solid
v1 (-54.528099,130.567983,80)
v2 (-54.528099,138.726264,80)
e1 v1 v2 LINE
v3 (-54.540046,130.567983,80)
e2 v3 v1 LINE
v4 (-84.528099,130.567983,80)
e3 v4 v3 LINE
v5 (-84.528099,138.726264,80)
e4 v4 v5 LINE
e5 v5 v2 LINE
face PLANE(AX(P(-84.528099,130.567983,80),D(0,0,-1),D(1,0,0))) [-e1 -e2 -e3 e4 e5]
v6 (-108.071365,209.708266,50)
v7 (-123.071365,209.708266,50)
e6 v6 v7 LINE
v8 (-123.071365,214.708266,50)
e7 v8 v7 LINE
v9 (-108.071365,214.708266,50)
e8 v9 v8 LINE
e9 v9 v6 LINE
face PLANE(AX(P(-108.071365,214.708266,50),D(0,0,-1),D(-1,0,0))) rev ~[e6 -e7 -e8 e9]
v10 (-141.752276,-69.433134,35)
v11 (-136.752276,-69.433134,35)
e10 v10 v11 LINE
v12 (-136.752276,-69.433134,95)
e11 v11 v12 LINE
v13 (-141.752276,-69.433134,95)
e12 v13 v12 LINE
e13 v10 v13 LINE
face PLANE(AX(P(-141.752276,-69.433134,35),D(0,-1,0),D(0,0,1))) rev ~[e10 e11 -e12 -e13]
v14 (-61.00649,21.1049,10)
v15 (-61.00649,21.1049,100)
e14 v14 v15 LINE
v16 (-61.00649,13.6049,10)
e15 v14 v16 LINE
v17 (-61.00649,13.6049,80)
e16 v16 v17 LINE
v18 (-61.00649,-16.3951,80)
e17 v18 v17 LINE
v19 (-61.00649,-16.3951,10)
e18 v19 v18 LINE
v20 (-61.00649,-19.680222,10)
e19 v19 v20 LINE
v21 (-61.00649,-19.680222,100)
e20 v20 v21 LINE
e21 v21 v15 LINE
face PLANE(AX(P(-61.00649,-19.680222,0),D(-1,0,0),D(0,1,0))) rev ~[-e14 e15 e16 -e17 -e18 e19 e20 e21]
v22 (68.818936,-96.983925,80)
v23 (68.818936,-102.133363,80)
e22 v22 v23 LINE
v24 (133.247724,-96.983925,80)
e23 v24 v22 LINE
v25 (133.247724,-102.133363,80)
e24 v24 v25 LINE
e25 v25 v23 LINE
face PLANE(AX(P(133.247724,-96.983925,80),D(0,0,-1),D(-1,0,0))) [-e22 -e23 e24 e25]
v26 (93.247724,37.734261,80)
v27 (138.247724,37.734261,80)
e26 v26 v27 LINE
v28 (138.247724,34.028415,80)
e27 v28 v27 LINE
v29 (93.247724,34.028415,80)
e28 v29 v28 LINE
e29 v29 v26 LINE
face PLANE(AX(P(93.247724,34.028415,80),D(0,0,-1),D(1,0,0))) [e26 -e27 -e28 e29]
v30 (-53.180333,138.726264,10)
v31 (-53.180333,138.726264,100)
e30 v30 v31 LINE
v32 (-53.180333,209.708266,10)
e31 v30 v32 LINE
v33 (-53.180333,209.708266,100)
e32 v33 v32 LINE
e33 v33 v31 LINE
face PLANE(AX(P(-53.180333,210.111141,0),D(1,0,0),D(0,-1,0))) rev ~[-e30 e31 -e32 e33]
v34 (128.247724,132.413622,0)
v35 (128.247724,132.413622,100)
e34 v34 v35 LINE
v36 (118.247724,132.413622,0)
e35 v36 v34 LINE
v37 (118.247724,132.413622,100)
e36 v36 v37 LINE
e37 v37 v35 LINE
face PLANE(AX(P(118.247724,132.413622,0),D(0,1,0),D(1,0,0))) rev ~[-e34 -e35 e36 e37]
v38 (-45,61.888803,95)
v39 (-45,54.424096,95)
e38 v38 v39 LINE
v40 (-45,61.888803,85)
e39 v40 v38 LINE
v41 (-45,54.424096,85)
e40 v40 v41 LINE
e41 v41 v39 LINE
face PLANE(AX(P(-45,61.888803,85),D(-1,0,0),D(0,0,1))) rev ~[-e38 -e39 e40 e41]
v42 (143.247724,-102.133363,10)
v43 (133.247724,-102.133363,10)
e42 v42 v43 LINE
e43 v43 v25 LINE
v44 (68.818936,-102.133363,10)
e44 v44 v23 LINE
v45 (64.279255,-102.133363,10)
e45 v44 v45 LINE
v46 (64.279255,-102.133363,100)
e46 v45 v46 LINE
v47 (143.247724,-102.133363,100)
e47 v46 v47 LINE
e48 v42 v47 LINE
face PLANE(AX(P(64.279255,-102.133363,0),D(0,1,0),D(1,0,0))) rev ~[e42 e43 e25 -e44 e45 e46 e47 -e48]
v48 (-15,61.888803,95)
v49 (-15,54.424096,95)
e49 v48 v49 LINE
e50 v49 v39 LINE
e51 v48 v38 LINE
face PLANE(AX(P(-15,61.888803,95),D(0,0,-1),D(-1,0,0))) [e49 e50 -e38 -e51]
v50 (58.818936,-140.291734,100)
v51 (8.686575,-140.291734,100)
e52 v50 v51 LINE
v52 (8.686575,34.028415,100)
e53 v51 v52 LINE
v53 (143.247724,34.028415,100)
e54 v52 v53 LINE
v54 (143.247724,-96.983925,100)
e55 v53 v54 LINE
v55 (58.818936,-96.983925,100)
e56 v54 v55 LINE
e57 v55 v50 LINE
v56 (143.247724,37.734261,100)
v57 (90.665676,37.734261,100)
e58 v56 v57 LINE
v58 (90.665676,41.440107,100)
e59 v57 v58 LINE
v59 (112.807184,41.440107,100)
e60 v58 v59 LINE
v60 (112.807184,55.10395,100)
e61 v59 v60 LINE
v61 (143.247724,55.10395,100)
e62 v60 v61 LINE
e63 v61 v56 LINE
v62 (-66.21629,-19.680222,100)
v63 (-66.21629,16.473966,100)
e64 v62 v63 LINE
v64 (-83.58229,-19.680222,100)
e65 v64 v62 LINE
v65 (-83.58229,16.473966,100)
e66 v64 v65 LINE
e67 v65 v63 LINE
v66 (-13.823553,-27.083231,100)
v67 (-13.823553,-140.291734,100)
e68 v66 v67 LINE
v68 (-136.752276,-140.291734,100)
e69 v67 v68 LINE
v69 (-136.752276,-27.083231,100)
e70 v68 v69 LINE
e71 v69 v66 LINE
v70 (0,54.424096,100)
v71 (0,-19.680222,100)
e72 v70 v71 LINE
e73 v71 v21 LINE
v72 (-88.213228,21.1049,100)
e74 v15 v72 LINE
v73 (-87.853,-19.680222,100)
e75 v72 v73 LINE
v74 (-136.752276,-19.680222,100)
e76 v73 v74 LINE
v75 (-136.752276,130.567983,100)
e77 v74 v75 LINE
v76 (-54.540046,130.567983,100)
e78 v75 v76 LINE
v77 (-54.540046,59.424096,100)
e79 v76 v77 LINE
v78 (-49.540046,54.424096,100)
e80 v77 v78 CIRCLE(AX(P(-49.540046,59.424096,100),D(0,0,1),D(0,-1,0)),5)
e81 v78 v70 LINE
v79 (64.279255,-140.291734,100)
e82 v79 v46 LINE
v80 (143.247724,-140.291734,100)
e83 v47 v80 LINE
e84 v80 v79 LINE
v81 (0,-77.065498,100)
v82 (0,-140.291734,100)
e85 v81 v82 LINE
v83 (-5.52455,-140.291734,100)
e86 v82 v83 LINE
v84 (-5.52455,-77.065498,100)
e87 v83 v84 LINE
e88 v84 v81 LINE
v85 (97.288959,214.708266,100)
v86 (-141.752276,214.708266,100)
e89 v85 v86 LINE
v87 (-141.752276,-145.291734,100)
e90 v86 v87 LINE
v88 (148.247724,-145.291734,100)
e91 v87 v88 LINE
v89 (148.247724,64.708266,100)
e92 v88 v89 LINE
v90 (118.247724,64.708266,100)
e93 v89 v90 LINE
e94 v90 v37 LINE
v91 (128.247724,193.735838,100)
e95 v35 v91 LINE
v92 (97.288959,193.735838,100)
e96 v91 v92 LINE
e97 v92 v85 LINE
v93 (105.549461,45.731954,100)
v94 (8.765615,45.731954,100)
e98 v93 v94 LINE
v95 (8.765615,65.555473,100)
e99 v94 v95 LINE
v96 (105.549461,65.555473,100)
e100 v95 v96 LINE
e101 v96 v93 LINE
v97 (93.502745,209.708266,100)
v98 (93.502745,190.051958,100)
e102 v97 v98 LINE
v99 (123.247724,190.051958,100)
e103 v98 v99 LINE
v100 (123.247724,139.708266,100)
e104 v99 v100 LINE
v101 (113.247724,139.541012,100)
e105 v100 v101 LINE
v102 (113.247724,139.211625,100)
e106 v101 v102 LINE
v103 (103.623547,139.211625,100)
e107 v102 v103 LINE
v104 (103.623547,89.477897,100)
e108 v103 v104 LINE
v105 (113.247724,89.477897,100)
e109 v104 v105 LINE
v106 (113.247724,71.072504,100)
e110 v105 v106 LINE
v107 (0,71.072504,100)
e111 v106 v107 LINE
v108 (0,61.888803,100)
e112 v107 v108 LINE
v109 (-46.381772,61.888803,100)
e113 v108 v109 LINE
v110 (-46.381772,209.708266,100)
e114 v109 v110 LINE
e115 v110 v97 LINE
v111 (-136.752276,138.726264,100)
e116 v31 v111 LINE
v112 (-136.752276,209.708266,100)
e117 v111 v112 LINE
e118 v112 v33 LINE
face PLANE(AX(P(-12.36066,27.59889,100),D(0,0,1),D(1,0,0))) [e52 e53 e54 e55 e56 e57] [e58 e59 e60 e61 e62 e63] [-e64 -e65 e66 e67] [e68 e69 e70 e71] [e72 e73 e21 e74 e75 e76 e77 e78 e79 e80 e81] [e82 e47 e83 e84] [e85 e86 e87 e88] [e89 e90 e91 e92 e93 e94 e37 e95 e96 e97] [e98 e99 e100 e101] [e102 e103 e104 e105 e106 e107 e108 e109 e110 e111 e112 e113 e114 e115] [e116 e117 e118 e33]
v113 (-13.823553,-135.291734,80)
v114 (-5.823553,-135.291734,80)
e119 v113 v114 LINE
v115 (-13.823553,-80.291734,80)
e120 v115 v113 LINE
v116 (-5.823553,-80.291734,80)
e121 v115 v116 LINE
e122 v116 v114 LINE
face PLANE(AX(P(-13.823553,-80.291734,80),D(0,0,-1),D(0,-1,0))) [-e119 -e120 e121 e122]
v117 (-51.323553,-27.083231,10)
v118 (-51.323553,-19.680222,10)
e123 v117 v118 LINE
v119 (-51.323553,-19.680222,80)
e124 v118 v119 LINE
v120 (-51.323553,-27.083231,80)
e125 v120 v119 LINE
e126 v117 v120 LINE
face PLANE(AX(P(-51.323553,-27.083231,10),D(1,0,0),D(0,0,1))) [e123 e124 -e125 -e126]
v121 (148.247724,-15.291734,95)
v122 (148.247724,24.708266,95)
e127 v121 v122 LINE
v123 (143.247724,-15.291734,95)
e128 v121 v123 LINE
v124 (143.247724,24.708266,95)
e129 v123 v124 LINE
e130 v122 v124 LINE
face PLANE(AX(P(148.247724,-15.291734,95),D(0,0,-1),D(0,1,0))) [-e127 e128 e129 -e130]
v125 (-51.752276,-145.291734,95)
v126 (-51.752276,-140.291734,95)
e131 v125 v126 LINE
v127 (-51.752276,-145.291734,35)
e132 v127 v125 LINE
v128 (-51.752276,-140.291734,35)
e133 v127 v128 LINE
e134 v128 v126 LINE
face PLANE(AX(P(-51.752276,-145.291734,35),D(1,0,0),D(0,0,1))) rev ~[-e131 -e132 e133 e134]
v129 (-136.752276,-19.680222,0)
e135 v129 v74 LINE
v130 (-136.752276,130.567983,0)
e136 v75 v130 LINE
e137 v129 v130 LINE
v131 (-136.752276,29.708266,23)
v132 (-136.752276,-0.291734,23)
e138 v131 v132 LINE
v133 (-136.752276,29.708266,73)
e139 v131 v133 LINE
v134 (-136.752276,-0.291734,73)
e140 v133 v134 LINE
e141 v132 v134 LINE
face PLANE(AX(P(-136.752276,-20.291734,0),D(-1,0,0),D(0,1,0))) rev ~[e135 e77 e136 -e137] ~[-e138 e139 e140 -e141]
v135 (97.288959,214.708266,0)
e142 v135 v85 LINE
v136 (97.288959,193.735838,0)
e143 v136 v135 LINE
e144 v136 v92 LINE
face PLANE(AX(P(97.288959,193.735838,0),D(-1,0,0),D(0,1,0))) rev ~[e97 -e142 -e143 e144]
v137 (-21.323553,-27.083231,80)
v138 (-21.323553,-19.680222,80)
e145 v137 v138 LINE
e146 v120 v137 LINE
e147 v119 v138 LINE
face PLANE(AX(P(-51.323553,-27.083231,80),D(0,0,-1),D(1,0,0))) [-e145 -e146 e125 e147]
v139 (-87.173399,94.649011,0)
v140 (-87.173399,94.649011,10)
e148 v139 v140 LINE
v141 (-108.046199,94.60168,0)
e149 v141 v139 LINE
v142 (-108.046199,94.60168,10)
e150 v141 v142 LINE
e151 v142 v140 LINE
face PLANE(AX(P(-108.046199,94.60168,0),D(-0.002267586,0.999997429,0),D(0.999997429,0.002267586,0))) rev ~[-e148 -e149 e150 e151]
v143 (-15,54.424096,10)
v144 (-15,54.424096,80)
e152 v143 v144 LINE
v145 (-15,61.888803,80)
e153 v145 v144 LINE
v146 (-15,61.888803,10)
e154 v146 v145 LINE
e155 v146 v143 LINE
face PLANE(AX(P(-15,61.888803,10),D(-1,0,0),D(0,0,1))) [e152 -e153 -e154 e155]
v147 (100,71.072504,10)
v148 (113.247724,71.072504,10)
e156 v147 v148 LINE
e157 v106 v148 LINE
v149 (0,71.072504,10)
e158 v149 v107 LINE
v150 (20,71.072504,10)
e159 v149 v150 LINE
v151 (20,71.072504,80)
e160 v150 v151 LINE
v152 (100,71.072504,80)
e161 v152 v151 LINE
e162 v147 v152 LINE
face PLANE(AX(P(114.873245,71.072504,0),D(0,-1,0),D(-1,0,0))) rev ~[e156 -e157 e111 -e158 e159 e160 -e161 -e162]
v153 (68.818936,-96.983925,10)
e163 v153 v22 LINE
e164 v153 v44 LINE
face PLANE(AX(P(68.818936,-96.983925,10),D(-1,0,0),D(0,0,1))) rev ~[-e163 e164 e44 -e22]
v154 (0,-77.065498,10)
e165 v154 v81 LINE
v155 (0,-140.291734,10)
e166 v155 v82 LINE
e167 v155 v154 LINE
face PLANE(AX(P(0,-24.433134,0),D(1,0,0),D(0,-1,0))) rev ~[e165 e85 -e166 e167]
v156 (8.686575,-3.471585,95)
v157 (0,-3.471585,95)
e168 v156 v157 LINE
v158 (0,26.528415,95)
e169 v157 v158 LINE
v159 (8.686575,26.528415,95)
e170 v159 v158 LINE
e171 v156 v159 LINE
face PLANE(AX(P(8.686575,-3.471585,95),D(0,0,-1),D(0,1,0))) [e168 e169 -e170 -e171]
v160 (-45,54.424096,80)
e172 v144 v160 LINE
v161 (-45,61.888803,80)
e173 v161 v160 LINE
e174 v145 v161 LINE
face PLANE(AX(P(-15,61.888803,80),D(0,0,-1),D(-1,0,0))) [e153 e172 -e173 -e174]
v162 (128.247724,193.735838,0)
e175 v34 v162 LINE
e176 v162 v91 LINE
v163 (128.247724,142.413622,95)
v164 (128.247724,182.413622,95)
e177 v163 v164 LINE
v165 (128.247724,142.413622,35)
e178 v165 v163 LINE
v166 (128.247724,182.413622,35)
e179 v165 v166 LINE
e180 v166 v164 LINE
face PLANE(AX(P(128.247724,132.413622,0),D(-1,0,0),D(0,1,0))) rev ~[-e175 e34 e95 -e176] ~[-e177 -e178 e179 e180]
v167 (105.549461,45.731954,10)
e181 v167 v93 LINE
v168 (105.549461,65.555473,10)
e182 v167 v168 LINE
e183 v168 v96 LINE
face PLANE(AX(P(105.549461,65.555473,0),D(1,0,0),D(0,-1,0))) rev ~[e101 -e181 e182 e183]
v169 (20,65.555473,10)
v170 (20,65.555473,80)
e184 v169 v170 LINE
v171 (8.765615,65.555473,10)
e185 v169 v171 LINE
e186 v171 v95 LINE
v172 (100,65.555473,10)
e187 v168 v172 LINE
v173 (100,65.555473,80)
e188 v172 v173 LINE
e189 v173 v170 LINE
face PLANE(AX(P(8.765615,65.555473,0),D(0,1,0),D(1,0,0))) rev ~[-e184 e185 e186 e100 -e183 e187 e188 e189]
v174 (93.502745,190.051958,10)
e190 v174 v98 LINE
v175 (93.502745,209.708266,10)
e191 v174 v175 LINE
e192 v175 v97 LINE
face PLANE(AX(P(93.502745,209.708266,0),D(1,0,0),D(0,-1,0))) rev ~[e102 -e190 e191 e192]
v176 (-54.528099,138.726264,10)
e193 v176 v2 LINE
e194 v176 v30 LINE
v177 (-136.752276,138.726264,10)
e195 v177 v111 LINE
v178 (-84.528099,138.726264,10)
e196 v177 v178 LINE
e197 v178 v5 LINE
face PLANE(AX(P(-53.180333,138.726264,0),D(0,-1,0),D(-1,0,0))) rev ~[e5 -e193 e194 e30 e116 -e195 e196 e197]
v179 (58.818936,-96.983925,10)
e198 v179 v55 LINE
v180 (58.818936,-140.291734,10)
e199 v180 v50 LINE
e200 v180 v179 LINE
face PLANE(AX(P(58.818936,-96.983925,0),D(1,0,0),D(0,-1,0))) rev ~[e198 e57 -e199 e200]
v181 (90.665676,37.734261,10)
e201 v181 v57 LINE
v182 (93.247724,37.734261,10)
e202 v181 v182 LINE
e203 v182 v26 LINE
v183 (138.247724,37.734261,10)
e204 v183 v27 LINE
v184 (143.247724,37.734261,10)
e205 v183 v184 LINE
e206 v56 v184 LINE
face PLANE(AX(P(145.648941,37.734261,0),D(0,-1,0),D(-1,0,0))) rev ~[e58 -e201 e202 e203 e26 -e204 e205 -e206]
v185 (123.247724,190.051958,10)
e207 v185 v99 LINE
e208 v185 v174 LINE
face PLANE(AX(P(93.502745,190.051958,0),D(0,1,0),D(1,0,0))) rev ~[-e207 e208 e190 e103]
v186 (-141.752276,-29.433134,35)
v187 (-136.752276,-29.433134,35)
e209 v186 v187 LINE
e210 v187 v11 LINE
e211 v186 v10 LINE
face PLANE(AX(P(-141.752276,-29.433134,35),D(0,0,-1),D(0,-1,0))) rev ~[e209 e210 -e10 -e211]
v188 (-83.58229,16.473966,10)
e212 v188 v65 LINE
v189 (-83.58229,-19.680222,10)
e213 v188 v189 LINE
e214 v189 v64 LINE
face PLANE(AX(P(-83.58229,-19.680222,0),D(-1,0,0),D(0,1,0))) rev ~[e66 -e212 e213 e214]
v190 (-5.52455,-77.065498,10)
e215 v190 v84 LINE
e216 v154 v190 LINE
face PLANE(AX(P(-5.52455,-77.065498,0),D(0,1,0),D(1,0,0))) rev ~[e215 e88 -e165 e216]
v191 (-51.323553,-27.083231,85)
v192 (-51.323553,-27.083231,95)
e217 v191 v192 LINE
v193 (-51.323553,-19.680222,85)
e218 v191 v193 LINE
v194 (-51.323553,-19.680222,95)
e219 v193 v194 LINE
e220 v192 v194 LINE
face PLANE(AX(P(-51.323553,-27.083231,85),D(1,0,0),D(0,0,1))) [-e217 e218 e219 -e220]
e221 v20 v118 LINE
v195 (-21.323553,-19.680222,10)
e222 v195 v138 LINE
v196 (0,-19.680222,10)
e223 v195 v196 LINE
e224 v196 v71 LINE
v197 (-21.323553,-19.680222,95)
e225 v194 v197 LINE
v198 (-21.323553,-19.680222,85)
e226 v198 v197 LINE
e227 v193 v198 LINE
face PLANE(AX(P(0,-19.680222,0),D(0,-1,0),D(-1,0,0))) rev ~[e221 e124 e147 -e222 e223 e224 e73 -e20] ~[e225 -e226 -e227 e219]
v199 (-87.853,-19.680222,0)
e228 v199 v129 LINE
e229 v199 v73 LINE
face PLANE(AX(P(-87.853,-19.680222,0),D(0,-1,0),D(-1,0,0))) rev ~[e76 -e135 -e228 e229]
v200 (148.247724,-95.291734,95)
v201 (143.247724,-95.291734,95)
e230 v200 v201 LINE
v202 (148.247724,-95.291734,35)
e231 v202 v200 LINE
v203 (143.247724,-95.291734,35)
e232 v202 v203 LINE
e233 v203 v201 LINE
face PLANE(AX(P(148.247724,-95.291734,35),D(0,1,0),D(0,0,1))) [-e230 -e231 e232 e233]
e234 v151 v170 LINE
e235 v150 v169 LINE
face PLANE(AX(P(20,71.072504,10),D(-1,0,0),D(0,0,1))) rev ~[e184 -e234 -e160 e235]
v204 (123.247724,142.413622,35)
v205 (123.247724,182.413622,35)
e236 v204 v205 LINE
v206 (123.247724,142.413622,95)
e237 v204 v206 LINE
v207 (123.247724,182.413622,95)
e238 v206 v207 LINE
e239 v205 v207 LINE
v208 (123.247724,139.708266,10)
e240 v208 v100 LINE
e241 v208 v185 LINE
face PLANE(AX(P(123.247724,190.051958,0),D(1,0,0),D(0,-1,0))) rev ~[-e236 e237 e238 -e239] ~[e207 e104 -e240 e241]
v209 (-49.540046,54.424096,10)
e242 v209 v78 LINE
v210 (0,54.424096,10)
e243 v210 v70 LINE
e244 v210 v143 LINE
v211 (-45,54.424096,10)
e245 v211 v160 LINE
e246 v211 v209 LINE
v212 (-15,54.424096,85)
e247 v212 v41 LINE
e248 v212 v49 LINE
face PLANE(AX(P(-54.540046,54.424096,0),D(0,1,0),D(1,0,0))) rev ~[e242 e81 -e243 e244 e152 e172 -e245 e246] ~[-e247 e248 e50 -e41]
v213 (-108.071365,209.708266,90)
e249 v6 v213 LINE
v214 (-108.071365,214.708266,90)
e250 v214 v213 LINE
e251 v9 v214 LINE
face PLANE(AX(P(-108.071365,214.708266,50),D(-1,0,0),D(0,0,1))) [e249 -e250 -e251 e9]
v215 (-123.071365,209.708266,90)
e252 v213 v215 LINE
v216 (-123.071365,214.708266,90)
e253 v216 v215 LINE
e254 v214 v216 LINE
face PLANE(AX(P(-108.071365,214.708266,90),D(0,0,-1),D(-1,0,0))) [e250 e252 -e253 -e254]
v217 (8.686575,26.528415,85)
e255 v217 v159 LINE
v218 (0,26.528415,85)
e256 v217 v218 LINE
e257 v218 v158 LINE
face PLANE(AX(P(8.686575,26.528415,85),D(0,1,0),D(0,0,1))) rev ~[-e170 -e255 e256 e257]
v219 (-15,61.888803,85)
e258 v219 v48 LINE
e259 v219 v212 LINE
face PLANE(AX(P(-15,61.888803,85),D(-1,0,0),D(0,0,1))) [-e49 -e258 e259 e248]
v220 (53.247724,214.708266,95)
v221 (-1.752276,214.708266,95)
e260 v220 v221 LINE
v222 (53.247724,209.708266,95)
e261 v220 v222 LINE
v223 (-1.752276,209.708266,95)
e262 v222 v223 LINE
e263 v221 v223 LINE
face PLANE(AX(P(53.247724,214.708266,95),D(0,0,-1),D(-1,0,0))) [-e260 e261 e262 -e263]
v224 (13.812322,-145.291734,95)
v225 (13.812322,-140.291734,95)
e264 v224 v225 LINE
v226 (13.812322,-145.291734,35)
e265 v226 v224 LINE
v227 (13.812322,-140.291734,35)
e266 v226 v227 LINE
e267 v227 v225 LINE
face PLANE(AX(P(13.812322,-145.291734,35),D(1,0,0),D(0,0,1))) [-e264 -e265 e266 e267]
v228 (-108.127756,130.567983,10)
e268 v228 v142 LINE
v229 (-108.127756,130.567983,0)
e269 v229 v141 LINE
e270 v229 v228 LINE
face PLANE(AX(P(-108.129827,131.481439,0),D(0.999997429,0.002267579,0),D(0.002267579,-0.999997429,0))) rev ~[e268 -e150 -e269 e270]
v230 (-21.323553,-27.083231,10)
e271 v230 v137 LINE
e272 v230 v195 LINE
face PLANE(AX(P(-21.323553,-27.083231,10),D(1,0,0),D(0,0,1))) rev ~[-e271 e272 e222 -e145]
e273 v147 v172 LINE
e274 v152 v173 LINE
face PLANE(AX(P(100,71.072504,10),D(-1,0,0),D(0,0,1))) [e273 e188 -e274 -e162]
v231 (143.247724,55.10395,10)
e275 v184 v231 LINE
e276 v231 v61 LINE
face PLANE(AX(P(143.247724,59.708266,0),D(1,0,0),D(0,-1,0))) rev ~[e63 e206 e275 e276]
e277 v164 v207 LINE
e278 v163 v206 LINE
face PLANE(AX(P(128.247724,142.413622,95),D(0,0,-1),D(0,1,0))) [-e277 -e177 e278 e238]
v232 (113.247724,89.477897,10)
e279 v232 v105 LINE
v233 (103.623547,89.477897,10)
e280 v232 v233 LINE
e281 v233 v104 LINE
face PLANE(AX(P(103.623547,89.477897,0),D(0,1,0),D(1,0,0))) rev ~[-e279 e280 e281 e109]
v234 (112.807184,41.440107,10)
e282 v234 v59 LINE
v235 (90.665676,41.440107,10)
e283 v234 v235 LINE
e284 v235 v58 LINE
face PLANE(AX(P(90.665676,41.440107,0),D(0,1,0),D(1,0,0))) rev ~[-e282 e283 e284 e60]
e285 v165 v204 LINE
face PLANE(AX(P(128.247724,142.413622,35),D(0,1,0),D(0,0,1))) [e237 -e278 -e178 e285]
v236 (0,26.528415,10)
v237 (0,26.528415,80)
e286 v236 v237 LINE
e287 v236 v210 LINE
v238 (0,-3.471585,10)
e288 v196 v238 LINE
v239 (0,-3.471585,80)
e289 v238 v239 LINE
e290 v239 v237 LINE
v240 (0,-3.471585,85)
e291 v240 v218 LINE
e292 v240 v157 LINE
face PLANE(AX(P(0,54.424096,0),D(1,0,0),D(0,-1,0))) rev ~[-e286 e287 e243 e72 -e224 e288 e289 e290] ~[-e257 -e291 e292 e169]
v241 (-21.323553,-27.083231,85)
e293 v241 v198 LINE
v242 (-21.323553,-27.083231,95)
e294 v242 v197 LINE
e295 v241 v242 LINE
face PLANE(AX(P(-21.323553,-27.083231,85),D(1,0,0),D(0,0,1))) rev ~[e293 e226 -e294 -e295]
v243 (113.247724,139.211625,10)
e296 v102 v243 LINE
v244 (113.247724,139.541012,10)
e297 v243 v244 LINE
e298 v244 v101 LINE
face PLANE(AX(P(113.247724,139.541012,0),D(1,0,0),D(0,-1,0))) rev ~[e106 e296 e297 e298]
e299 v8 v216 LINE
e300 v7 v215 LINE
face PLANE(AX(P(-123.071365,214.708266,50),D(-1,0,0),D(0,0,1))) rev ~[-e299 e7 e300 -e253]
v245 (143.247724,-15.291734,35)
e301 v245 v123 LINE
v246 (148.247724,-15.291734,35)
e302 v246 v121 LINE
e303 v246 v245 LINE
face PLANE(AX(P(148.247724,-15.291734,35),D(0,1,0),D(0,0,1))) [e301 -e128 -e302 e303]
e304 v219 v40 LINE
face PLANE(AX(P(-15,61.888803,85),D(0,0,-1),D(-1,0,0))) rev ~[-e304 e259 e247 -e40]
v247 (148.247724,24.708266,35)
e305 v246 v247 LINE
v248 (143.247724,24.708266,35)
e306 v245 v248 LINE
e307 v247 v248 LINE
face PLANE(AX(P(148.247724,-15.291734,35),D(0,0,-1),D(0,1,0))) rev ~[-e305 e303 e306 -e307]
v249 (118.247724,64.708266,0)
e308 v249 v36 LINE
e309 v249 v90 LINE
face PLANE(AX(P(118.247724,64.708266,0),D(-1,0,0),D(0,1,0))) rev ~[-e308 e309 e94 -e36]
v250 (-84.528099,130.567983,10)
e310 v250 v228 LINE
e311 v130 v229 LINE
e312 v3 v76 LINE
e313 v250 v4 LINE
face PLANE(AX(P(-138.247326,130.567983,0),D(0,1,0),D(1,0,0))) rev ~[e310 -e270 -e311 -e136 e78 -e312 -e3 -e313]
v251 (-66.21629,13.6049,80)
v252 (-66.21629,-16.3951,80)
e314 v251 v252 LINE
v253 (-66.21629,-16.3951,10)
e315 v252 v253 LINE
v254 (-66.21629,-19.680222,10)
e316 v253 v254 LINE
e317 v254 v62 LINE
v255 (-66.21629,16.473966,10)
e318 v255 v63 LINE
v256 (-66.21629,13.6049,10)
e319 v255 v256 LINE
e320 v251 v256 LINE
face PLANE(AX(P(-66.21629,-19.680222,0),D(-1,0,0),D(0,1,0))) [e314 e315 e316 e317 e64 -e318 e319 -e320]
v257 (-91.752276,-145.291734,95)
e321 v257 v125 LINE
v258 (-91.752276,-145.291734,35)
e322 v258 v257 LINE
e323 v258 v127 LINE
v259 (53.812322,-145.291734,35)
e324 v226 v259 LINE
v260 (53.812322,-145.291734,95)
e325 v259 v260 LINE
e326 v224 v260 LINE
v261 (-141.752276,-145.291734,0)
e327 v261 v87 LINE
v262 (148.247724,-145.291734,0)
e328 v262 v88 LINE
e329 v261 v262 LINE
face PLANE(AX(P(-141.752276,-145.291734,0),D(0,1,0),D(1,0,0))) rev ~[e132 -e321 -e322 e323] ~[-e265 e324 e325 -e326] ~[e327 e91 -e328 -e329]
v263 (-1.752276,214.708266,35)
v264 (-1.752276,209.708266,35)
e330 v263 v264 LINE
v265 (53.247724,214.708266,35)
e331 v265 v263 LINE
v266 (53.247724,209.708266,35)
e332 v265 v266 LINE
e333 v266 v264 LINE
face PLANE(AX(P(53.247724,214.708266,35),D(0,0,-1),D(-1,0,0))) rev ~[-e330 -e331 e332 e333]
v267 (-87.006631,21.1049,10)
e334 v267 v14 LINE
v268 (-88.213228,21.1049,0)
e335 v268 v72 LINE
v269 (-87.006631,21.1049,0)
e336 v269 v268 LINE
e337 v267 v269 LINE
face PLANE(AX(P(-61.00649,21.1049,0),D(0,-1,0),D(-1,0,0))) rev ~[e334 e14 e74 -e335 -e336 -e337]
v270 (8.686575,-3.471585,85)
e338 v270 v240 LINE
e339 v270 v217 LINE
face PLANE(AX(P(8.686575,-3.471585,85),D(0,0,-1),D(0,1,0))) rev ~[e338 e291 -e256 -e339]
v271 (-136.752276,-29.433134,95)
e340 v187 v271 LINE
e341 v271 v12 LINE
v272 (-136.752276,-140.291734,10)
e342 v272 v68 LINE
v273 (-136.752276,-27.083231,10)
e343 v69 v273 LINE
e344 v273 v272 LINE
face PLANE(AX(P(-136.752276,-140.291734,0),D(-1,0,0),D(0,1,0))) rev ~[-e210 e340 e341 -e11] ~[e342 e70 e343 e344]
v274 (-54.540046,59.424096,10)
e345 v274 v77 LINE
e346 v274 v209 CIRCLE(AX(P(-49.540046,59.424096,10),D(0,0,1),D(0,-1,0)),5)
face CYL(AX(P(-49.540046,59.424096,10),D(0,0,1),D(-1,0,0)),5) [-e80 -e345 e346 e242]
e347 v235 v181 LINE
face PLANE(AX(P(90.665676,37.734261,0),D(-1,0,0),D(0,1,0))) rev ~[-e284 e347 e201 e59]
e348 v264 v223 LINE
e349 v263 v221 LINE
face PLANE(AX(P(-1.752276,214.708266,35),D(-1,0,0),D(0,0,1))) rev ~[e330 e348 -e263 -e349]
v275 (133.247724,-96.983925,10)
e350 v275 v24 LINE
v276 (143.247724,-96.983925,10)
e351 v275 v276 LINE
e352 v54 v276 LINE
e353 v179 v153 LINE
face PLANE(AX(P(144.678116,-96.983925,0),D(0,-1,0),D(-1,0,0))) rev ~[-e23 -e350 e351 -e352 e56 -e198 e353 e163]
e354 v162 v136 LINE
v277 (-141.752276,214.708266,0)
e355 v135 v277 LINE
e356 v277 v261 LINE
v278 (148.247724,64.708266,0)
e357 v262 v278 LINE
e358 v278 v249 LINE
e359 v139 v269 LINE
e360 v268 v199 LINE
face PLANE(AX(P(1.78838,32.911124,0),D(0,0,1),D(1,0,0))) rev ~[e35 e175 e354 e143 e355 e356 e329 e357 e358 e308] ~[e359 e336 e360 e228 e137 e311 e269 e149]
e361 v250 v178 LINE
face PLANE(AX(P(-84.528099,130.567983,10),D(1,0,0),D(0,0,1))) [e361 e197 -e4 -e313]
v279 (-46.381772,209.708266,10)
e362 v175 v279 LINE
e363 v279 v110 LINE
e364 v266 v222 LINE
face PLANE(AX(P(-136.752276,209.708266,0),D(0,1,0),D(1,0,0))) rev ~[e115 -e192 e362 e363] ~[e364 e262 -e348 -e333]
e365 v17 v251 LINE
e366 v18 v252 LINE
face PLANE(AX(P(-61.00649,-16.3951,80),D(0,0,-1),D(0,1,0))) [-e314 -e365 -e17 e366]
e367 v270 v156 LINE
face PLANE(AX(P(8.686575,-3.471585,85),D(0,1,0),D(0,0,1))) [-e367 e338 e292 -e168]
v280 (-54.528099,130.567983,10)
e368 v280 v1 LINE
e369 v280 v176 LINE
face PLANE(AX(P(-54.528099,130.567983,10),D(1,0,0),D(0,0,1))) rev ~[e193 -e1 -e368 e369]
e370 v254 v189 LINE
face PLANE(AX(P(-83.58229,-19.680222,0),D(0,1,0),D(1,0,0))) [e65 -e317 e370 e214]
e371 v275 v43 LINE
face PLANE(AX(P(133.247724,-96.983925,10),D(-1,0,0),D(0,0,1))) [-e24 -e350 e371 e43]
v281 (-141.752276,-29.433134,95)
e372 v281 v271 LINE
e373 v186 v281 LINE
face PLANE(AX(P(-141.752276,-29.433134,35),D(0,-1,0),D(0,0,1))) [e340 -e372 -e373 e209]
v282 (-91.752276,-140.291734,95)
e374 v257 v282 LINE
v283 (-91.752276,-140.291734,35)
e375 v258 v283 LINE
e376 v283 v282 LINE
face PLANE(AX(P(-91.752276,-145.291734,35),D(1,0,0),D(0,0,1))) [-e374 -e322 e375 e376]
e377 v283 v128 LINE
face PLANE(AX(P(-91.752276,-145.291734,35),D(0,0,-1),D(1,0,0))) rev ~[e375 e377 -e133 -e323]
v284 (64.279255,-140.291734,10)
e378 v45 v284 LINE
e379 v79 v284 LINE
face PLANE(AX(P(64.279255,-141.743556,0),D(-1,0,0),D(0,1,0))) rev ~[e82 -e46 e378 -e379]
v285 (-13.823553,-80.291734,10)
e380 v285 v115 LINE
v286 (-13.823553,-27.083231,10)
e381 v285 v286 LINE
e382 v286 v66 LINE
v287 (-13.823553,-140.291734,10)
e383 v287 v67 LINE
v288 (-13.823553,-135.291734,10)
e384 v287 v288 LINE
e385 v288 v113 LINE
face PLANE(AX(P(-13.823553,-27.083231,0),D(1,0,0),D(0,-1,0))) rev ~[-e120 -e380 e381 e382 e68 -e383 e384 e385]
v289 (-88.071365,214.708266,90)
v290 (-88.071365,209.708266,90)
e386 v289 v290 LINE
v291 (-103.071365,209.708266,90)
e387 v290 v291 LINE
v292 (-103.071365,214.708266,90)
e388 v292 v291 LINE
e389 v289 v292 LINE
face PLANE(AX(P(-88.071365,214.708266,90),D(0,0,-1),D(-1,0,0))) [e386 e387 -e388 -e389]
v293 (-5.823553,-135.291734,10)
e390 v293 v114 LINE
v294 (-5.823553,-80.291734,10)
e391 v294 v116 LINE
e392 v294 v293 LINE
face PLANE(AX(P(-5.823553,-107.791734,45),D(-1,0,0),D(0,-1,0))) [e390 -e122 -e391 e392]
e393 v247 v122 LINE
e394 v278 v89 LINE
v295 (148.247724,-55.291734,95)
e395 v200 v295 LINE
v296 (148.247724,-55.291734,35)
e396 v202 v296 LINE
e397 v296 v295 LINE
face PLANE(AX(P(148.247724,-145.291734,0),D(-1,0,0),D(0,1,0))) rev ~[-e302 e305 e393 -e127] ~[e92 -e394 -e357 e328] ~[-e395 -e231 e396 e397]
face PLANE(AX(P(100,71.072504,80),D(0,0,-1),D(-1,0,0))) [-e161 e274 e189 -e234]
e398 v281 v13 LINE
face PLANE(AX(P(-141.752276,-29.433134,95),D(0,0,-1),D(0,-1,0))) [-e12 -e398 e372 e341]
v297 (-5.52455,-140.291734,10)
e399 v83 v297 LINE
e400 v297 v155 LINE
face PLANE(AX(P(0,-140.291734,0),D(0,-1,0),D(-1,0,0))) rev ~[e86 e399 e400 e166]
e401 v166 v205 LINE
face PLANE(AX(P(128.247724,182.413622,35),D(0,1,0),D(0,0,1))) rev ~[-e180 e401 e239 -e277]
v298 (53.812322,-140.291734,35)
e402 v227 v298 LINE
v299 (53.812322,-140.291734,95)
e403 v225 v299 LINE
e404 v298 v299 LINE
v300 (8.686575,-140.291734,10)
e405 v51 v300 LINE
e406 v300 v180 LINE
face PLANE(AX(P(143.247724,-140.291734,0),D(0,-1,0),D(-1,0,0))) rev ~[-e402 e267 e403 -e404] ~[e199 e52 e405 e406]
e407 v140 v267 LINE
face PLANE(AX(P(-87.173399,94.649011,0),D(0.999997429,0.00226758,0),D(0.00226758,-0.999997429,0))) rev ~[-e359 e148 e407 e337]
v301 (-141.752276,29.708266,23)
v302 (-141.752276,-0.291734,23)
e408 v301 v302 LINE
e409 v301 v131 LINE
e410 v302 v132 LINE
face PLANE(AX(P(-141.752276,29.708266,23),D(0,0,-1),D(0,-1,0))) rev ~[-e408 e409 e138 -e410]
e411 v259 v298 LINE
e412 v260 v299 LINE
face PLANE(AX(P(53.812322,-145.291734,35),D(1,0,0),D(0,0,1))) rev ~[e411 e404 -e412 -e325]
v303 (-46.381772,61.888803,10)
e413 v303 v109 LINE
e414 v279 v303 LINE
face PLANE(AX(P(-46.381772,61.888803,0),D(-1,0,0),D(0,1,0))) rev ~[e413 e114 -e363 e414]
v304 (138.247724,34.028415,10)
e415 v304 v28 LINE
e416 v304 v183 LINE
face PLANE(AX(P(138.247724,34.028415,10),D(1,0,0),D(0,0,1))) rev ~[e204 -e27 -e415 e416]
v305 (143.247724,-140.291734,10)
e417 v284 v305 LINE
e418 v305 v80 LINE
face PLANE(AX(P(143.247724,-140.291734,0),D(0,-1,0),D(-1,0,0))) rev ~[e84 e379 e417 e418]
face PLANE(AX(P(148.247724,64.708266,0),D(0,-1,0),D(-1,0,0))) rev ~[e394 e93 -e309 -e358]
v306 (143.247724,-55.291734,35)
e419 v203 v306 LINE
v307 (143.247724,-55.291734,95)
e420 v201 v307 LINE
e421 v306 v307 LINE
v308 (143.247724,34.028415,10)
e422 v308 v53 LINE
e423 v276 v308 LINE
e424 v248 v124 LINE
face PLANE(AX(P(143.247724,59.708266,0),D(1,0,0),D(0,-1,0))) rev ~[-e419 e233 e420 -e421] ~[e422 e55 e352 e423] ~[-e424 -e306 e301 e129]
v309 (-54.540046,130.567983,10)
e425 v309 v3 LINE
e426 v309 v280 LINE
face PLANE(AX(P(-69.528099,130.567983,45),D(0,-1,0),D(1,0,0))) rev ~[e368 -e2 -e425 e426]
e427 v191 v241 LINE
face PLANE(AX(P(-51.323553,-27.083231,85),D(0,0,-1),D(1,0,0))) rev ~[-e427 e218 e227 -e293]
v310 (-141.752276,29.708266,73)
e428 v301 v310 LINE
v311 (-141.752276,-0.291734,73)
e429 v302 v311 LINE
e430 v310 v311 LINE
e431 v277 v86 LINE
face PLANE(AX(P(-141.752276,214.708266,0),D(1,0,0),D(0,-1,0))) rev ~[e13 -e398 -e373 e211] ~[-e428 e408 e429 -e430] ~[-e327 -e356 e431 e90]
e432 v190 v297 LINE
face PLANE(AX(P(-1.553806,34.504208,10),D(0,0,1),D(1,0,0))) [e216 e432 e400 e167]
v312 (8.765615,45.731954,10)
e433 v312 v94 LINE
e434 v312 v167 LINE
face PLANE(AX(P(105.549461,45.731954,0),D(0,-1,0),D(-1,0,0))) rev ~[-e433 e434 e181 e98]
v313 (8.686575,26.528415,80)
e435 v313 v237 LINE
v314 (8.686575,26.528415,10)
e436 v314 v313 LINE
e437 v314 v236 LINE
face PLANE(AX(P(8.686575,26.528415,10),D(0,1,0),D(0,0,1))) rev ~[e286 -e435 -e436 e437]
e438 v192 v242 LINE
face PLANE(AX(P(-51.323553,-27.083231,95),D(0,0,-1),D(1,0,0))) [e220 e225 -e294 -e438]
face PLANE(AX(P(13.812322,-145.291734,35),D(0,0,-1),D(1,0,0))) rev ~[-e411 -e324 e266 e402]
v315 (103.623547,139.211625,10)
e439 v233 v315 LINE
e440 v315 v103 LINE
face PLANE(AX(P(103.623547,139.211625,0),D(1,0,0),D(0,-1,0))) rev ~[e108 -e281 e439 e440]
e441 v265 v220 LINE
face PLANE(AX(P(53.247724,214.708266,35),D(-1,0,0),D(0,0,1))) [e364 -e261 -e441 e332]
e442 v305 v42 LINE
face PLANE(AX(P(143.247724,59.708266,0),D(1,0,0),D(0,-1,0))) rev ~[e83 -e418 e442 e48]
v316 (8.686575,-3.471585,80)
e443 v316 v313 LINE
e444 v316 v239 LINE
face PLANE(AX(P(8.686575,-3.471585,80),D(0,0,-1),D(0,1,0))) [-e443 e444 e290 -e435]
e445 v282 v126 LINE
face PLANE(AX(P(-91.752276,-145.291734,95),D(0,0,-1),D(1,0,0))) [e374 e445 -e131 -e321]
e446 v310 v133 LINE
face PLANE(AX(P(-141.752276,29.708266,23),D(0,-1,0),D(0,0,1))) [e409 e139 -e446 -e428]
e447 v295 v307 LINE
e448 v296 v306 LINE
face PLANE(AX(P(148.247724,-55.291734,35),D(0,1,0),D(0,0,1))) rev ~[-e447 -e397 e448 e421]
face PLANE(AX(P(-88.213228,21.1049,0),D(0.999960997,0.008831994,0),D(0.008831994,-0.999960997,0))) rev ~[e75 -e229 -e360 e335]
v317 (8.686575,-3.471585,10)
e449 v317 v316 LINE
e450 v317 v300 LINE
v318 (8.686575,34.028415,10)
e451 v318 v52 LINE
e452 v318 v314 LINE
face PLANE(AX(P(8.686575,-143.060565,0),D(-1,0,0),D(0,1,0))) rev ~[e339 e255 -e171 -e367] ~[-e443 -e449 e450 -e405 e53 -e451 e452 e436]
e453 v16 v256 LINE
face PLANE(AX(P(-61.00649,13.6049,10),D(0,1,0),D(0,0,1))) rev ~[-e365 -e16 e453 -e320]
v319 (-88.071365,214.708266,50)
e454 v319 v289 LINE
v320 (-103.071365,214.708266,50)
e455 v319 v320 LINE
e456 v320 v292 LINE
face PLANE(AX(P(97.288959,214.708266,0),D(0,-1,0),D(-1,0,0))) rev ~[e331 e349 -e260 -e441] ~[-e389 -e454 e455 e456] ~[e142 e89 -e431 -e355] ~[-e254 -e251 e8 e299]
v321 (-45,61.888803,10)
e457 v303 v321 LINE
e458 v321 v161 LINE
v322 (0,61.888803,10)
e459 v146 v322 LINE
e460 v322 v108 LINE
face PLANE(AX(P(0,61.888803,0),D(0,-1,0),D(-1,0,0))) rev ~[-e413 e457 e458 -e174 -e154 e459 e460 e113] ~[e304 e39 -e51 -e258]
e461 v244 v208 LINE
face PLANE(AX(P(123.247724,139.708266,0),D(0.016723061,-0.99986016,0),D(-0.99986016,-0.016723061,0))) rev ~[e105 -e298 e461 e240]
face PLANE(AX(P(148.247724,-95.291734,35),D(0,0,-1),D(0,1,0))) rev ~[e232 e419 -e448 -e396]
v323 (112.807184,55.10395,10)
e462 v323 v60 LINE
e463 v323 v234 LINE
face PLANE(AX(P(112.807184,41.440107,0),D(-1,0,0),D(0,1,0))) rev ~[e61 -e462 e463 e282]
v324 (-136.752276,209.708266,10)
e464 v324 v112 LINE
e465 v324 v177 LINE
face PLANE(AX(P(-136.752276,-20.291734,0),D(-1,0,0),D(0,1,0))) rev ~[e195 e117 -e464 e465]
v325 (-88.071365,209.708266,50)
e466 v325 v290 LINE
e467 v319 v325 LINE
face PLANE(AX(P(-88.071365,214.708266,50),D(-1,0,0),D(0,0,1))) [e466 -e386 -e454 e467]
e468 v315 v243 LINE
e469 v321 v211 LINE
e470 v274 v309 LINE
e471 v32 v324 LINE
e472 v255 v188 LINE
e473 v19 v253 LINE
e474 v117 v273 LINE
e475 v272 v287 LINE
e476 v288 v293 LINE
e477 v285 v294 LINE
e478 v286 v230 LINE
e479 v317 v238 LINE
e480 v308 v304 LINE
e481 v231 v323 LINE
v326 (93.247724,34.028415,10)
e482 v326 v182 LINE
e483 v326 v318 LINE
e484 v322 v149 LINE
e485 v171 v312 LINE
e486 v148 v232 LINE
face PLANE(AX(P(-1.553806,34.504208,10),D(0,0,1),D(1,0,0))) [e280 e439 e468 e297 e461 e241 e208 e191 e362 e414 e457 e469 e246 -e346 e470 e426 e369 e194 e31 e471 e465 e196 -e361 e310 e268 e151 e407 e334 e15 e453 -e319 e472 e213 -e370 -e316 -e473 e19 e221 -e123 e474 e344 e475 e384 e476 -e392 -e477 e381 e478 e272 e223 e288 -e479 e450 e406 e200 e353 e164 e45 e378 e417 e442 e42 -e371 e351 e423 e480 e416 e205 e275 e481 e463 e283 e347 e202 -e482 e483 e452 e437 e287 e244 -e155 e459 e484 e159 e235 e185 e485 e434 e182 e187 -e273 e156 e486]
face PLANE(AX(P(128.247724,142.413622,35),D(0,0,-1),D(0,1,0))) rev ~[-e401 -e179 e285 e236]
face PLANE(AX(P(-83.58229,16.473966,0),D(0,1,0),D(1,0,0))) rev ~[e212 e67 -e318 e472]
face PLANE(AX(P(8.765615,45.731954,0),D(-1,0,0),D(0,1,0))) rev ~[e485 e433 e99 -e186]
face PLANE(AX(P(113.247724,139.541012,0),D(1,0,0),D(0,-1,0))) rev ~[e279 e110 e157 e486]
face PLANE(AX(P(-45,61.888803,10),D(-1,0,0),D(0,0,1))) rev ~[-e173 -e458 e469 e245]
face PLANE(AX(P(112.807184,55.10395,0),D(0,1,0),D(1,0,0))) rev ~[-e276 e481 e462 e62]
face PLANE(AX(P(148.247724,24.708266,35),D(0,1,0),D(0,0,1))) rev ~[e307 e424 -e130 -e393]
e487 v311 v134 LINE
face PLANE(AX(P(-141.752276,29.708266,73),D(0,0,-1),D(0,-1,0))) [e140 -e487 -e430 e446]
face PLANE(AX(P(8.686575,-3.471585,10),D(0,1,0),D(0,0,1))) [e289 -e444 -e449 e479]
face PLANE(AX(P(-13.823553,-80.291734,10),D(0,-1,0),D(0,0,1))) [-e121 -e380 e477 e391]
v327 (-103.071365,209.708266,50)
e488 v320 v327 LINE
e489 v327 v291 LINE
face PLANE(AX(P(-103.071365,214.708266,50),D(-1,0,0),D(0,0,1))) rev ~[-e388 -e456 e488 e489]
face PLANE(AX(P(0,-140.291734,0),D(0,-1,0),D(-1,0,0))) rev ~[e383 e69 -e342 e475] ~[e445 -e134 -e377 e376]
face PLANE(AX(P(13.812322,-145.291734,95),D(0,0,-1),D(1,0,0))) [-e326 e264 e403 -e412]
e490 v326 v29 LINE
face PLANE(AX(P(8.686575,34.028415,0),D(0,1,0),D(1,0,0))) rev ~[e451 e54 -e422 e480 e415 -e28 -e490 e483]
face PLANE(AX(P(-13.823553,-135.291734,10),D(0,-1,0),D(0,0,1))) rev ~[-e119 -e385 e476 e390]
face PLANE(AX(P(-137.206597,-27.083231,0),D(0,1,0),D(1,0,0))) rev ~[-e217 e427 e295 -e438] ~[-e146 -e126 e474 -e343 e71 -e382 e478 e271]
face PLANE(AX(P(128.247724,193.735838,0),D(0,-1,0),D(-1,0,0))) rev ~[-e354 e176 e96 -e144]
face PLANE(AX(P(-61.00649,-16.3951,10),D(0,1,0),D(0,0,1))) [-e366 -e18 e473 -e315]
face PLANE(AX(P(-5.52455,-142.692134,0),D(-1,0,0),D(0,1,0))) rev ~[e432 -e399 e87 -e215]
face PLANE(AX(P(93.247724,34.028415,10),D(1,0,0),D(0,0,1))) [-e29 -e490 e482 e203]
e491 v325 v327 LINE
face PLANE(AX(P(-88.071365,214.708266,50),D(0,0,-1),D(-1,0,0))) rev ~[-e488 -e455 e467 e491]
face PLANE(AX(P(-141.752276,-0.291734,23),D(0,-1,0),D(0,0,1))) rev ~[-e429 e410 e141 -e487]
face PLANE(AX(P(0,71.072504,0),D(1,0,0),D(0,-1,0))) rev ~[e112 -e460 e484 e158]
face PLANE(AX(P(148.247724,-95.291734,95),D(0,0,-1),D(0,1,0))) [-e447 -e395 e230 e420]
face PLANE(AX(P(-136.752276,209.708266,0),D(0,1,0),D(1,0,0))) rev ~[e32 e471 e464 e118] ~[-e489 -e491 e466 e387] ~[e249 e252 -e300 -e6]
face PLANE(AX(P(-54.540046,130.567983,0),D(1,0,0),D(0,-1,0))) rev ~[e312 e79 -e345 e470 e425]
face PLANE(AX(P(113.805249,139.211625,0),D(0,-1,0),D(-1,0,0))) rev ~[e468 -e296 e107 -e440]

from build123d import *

# Parameters (mm, degrees)
F3_DEPTH  = 10
F4_DEPTH  = 100
F1_W      = 17.366
F1_H      = 36.154188
F5_DEPTH  = 100
F6_W      = 40
F6_H      = 60
F7_DEPTH  = 10
F8_W      = 40
F8_H      = 60
F9_DEPTH  = 10
F10_W     = 40
F10_H     = 60
F11_DEPTH = 10
F12_W     = 40
F12_H     = 60
F12_W_2   = 30
F12_H_2   = 50
F13_DEPTH = 10
F14_W     = 15
F14_H     = 40
F14_W_2   = 55
F14_H_2   = 60
F15_DEPTH = 10
F16_W     = 80
F16_H     = 70
F17_DEPTH = 10
F18_W     = 30
F18_H     = 70
F18_H_2   = 10
F19_DEPTH = 10
F20_W     = 30
F20_H     = 70
F20_H_2   = 10
F21_DEPTH = 10
F22_W     = 30
F22_H     = 70
F22_H_2   = 10
F23_DEPTH = 10
F24_W     = 30
F24_H     = 70
F25_DEPTH = 10
F26_R     = 5
F27_W     = 45
F27_H     = 70
F28_DEPTH = 5.6
F29_W     = 55
F29_H     = 70
F30_DEPTH = 8
F31_W     = 64.428788
F31_H     = 70
F32_DEPTH = 10
F33_W     = 30
F33_H     = 70
F34_DEPTH = 10


with BuildPart() as f3:
    # F2 (on Top) → F3 (new body)
    with BuildSketch(Plane.XY):
        Polygon((95.242359, 211.719842), (-138.729709, 211.719842), (-138.342458, 131.481439), (-108.129827, 131.481439), (-108.046199, 94.60168), (-87.173399, 94.649011), (-86.914142, -19.682718), (-137.61172, -19.927398), (-137.295023, -85.54685), (-137.905847, -85.549798), (-137.633327, -142.015695), (144.48047, -142.015695), (144.48047, 61.8671), (113.558467, 61.8671), (113.558467, 138.765142), (124.934341, 138.765142), (124.934341, 192.200884), (95.242359, 192.200884), align=None)
    extrude(amount=F3_DEPTH)

    # F0 (on Top) → F4 (join)
    with BuildSketch(Plane.XY):
        Polygon((97.288959, 214.708266), (-141.752276, 214.708266), (-141.752276, -145.291734), (148.247724, -145.291734), (148.247724, 64.708266), (118.247724, 64.708266), (118.247724, 132.413622), (128.247724, 132.413622), (128.247724, 190.051958), (128.247724, 193.735838), (97.288959, 193.735838), align=None)
        Polygon((0, -140.291734), (-136.752276, -140.291734), (-136.752276, -24.433134), (0, -24.433134), (0, -134.701237), align=None, mode=Mode.SUBTRACT)
        Polygon((-136.752276, 135.399103), (-136.752276, 209.708266), (-52.510735, 209.708266), (-46.752276, 209.708266), (93.502745, 209.708266), (93.502745, 190.051958), (123.247724, 190.051958), (123.247724, 139.708266), (113.247724, 139.541012), (113.247724, 89.373782), (113.247724, 69.708266), (113.247724, 59.708266), (143.247724, 59.708266), (143.247724, 39.708266), (143.247724, -140.291734), (3.247724, -140.291734), (3.247724, -20.291734), (-80.555938, -20.291734), (-86.73545, -20.291734), (-136.752276, -20.291734), (-136.752276, 94.766736), (-136.752276, 99.708266), (-136.752276, 129.708266), align=None, mode=Mode.SUBTRACT)
    extrude(amount=F4_DEPTH)

    # F1 (on Top) → F5 (join)
    with BuildSketch(Plane.XY):
        Polygon((-46.381772, 210.111141), (-53.180333, 210.111141), (-53.180333, 138.726264), (-138.247326, 138.726264), (-138.247326, 130.567983), (-54.540046, 130.567983), (-54.540046, 54.424096), (0, 54.424096), (0, -19.680222), (-61.00649, -19.680222), (-61.00649, 21.1049), (-88.213228, 21.1049), (-87.853, -19.680222), (-137.235827, -19.680222), (-137.206597, -27.083231), (-13.823553, -27.083231), (-13.823553, -77.065498), (-13.823553, -142.692134), (-5.52455, -142.692134), (-5.52455, -77.065498), (0, -77.065498), (0, -143.060565), (8.686575, -143.060565), (8.686575, 34.028415), (90.665676, 34.028415), (145.648941, 34.028415), (145.648941, 37.734261), (90.665676, 37.734261), (90.665676, 41.440107), (112.807184, 41.440107), (112.807184, 55.10395), (137.995422, 55.10395), (143.29809, 55.10395), (144.269308, 61.888803), (114.873245, 61.888803), (114.873245, 71.072504), (0, 71.072504), (0, 61.888803), (-46.381772, 61.888803), align=None)
        with Locations((-74.89929, -1.603128)):
            Rectangle(F1_W, F1_H, mode=Mode.SUBTRACT)
        Polygon((105.549461, 45.731954), (8.765615, 45.731954), (8.765615, 65.555473), (90.949163, 65.555473), (96.314847, 65.555473), (105.549461, 65.555473), (105.549461, 55.10395), align=None, mode=Mode.SUBTRACT)
        Polygon((103.623547, 89.477897), (113.413647, 89.477897), (113.805249, 139.211625), (103.623547, 139.211625), align=None)
        Polygon((58.818936, -96.983925), (58.818936, -141.743556), (64.279255, -141.743556), (64.279255, -102.133363), (144.678116, -102.133363), (144.678116, -96.983925), align=None)
        Polygon((97.186632, 212.130934), (93.550943, 212.130934), (93.550943, 190.134004), (124.809749, 190.134004), (124.809749, 193.531185), (97.186632, 193.531185), align=None)
    extrude(amount=F5_DEPTH)

    # F6 (on face) → F7 (cut)
    with BuildSketch(Plane.YZ.offset(148.247724)):
        with Locations((-75.291734, 65)):
            Rectangle(F6_W, F6_H)
        with Locations((4.708266, 65)):
            Rectangle(F6_W, F6_H)
    extrude(amount=-F7_DEPTH, mode=Mode.SUBTRACT)

    # F8 (on face) → F9 (cut)
    with BuildSketch(Plane.YZ.offset(128.247724)):
        with Locations((162.413622, 65)):
            Rectangle(F8_W, F8_H)
    extrude(amount=-F9_DEPTH, mode=Mode.SUBTRACT)

    # F10 (on face) → F11 (cut)
    with BuildSketch(Plane.XZ.offset(145.291734)):
        with Locations((33.812322, 65)):
            Rectangle(F10_W, F10_H)
        with Locations((-71.752276, 65)):
            Rectangle(F10_W, F10_H)
    extrude(amount=-F11_DEPTH, mode=Mode.SUBTRACT)

    # F12 (on face) → F13 (cut)
    with BuildSketch(Plane(origin=(-141.752276, 0, 0), x_dir=(0, -1, 0), z_dir=(-1, 0, 0))):
        with Locations((49.433134, 65)):
            Rectangle(F12_W, F12_H)
        with Locations((-14.708266, 48)):
            Rectangle(F12_W_2, F12_H_2)
    extrude(amount=-F13_DEPTH, mode=Mode.SUBTRACT)

    # F14 (on face) → F15 (cut)
    with BuildSketch(Plane(origin=(0, 214.708266, 0), x_dir=(-1, 0, 0), z_dir=(0, 1, 0))):
        with Locations((95.571365, 70)):
            Rectangle(F14_W, F14_H)
        with Locations((115.571365, 70)):
            Rectangle(F14_W, F14_H)
        with Locations((-25.747724, 65)):
            Rectangle(F14_W_2, F14_H_2)
    extrude(amount=-F15_DEPTH, mode=Mode.SUBTRACT)

    # F16 (on face) → F17 (cut)
    with BuildSketch(Plane(origin=(0, 71.072504, 0), x_dir=(-1, 0, 0), z_dir=(0, 1, 0))):
        with Locations((-60, 45)):
            Rectangle(F16_W, F16_H)
    extrude(amount=-F17_DEPTH, mode=Mode.SUBTRACT)

    # F18 (on face) → F19 (cut)
    with BuildSketch(Plane(origin=(0, 61.888803, 0), x_dir=(-1, 0, 0), z_dir=(0, 1, 0))):
        with Locations((30, 45)):
            Rectangle(F18_W, F18_H)
        with Locations((30, 90)):
            Rectangle(F18_W, F18_H_2)
    extrude(amount=-F19_DEPTH, mode=Mode.SUBTRACT)

    # F20 (on face) → F21 (cut)
    with BuildSketch(Plane.XZ.offset(27.083231)):
        with Locations((-36.323553, 45)):
            Rectangle(F20_W, F20_H)
        with Locations((-36.323553, 90)):
            Rectangle(F20_W, F20_H_2)
    extrude(amount=-F21_DEPTH, mode=Mode.SUBTRACT)

    # F22 (on face) → F23 (cut)
    with BuildSketch(Plane.YZ.offset(8.686575)):
        with Locations((11.528415, 45)):
            Rectangle(F22_W, F22_H)
        with Locations((11.528415, 90)):
            Rectangle(F22_W, F22_H_2)
    extrude(amount=-F23_DEPTH, mode=Mode.SUBTRACT)

    # F24 (on face) → F25 (cut)
    with BuildSketch(Plane.XZ.offset(-130.567983)):
        with Locations((-69.528099, 45)):
            Rectangle(F24_W, F24_H)
    extrude(amount=-F25_DEPTH, mode=Mode.SUBTRACT)

    # F26
    f26_edges = [f3.edges().sort_by_distance(p)[0] for p in [
        (-54.540046, 54.424096, 55),
    ]]
    fillet(f26_edges, radius=F26_R)

    # F27 (on face) → F28 (cut)
    with BuildSketch(Plane.XZ.offset(-34.028415)):
        with Locations((115.747724, 45)):
            Rectangle(F27_W, F27_H)
    extrude(amount=-F28_DEPTH, mode=Mode.SUBTRACT)

    # F29 (on face) → F30 (cut)
    with BuildSketch(Plane(origin=(-13.823553, 0, 0), x_dir=(0, -1, 0), z_dir=(-1, 0, 0))):
        with Locations((107.791734, 45)):
            Rectangle(F29_W, F29_H)
    extrude(amount=-F30_DEPTH, mode=Mode.SUBTRACT)

    # F31 (on face) → F32 (cut)
    with BuildSketch(Plane(origin=(0, -96.983925, 0), x_dir=(-1, 0, 0), z_dir=(0, 1, 0))):
        with Locations((-101.03333, 45)):
            Rectangle(F31_W, F31_H)
    extrude(amount=-F32_DEPTH, mode=Mode.SUBTRACT)

    # F33 (on face) → F34 (cut)
    with BuildSketch(Plane.YZ.offset(-61.00649)):
        with Locations((-1.3951, 45)):
            Rectangle(F33_W, F33_H)
    extrude(amount=-F34_DEPTH, mode=Mode.SUBTRACT)


solid = f3.part
